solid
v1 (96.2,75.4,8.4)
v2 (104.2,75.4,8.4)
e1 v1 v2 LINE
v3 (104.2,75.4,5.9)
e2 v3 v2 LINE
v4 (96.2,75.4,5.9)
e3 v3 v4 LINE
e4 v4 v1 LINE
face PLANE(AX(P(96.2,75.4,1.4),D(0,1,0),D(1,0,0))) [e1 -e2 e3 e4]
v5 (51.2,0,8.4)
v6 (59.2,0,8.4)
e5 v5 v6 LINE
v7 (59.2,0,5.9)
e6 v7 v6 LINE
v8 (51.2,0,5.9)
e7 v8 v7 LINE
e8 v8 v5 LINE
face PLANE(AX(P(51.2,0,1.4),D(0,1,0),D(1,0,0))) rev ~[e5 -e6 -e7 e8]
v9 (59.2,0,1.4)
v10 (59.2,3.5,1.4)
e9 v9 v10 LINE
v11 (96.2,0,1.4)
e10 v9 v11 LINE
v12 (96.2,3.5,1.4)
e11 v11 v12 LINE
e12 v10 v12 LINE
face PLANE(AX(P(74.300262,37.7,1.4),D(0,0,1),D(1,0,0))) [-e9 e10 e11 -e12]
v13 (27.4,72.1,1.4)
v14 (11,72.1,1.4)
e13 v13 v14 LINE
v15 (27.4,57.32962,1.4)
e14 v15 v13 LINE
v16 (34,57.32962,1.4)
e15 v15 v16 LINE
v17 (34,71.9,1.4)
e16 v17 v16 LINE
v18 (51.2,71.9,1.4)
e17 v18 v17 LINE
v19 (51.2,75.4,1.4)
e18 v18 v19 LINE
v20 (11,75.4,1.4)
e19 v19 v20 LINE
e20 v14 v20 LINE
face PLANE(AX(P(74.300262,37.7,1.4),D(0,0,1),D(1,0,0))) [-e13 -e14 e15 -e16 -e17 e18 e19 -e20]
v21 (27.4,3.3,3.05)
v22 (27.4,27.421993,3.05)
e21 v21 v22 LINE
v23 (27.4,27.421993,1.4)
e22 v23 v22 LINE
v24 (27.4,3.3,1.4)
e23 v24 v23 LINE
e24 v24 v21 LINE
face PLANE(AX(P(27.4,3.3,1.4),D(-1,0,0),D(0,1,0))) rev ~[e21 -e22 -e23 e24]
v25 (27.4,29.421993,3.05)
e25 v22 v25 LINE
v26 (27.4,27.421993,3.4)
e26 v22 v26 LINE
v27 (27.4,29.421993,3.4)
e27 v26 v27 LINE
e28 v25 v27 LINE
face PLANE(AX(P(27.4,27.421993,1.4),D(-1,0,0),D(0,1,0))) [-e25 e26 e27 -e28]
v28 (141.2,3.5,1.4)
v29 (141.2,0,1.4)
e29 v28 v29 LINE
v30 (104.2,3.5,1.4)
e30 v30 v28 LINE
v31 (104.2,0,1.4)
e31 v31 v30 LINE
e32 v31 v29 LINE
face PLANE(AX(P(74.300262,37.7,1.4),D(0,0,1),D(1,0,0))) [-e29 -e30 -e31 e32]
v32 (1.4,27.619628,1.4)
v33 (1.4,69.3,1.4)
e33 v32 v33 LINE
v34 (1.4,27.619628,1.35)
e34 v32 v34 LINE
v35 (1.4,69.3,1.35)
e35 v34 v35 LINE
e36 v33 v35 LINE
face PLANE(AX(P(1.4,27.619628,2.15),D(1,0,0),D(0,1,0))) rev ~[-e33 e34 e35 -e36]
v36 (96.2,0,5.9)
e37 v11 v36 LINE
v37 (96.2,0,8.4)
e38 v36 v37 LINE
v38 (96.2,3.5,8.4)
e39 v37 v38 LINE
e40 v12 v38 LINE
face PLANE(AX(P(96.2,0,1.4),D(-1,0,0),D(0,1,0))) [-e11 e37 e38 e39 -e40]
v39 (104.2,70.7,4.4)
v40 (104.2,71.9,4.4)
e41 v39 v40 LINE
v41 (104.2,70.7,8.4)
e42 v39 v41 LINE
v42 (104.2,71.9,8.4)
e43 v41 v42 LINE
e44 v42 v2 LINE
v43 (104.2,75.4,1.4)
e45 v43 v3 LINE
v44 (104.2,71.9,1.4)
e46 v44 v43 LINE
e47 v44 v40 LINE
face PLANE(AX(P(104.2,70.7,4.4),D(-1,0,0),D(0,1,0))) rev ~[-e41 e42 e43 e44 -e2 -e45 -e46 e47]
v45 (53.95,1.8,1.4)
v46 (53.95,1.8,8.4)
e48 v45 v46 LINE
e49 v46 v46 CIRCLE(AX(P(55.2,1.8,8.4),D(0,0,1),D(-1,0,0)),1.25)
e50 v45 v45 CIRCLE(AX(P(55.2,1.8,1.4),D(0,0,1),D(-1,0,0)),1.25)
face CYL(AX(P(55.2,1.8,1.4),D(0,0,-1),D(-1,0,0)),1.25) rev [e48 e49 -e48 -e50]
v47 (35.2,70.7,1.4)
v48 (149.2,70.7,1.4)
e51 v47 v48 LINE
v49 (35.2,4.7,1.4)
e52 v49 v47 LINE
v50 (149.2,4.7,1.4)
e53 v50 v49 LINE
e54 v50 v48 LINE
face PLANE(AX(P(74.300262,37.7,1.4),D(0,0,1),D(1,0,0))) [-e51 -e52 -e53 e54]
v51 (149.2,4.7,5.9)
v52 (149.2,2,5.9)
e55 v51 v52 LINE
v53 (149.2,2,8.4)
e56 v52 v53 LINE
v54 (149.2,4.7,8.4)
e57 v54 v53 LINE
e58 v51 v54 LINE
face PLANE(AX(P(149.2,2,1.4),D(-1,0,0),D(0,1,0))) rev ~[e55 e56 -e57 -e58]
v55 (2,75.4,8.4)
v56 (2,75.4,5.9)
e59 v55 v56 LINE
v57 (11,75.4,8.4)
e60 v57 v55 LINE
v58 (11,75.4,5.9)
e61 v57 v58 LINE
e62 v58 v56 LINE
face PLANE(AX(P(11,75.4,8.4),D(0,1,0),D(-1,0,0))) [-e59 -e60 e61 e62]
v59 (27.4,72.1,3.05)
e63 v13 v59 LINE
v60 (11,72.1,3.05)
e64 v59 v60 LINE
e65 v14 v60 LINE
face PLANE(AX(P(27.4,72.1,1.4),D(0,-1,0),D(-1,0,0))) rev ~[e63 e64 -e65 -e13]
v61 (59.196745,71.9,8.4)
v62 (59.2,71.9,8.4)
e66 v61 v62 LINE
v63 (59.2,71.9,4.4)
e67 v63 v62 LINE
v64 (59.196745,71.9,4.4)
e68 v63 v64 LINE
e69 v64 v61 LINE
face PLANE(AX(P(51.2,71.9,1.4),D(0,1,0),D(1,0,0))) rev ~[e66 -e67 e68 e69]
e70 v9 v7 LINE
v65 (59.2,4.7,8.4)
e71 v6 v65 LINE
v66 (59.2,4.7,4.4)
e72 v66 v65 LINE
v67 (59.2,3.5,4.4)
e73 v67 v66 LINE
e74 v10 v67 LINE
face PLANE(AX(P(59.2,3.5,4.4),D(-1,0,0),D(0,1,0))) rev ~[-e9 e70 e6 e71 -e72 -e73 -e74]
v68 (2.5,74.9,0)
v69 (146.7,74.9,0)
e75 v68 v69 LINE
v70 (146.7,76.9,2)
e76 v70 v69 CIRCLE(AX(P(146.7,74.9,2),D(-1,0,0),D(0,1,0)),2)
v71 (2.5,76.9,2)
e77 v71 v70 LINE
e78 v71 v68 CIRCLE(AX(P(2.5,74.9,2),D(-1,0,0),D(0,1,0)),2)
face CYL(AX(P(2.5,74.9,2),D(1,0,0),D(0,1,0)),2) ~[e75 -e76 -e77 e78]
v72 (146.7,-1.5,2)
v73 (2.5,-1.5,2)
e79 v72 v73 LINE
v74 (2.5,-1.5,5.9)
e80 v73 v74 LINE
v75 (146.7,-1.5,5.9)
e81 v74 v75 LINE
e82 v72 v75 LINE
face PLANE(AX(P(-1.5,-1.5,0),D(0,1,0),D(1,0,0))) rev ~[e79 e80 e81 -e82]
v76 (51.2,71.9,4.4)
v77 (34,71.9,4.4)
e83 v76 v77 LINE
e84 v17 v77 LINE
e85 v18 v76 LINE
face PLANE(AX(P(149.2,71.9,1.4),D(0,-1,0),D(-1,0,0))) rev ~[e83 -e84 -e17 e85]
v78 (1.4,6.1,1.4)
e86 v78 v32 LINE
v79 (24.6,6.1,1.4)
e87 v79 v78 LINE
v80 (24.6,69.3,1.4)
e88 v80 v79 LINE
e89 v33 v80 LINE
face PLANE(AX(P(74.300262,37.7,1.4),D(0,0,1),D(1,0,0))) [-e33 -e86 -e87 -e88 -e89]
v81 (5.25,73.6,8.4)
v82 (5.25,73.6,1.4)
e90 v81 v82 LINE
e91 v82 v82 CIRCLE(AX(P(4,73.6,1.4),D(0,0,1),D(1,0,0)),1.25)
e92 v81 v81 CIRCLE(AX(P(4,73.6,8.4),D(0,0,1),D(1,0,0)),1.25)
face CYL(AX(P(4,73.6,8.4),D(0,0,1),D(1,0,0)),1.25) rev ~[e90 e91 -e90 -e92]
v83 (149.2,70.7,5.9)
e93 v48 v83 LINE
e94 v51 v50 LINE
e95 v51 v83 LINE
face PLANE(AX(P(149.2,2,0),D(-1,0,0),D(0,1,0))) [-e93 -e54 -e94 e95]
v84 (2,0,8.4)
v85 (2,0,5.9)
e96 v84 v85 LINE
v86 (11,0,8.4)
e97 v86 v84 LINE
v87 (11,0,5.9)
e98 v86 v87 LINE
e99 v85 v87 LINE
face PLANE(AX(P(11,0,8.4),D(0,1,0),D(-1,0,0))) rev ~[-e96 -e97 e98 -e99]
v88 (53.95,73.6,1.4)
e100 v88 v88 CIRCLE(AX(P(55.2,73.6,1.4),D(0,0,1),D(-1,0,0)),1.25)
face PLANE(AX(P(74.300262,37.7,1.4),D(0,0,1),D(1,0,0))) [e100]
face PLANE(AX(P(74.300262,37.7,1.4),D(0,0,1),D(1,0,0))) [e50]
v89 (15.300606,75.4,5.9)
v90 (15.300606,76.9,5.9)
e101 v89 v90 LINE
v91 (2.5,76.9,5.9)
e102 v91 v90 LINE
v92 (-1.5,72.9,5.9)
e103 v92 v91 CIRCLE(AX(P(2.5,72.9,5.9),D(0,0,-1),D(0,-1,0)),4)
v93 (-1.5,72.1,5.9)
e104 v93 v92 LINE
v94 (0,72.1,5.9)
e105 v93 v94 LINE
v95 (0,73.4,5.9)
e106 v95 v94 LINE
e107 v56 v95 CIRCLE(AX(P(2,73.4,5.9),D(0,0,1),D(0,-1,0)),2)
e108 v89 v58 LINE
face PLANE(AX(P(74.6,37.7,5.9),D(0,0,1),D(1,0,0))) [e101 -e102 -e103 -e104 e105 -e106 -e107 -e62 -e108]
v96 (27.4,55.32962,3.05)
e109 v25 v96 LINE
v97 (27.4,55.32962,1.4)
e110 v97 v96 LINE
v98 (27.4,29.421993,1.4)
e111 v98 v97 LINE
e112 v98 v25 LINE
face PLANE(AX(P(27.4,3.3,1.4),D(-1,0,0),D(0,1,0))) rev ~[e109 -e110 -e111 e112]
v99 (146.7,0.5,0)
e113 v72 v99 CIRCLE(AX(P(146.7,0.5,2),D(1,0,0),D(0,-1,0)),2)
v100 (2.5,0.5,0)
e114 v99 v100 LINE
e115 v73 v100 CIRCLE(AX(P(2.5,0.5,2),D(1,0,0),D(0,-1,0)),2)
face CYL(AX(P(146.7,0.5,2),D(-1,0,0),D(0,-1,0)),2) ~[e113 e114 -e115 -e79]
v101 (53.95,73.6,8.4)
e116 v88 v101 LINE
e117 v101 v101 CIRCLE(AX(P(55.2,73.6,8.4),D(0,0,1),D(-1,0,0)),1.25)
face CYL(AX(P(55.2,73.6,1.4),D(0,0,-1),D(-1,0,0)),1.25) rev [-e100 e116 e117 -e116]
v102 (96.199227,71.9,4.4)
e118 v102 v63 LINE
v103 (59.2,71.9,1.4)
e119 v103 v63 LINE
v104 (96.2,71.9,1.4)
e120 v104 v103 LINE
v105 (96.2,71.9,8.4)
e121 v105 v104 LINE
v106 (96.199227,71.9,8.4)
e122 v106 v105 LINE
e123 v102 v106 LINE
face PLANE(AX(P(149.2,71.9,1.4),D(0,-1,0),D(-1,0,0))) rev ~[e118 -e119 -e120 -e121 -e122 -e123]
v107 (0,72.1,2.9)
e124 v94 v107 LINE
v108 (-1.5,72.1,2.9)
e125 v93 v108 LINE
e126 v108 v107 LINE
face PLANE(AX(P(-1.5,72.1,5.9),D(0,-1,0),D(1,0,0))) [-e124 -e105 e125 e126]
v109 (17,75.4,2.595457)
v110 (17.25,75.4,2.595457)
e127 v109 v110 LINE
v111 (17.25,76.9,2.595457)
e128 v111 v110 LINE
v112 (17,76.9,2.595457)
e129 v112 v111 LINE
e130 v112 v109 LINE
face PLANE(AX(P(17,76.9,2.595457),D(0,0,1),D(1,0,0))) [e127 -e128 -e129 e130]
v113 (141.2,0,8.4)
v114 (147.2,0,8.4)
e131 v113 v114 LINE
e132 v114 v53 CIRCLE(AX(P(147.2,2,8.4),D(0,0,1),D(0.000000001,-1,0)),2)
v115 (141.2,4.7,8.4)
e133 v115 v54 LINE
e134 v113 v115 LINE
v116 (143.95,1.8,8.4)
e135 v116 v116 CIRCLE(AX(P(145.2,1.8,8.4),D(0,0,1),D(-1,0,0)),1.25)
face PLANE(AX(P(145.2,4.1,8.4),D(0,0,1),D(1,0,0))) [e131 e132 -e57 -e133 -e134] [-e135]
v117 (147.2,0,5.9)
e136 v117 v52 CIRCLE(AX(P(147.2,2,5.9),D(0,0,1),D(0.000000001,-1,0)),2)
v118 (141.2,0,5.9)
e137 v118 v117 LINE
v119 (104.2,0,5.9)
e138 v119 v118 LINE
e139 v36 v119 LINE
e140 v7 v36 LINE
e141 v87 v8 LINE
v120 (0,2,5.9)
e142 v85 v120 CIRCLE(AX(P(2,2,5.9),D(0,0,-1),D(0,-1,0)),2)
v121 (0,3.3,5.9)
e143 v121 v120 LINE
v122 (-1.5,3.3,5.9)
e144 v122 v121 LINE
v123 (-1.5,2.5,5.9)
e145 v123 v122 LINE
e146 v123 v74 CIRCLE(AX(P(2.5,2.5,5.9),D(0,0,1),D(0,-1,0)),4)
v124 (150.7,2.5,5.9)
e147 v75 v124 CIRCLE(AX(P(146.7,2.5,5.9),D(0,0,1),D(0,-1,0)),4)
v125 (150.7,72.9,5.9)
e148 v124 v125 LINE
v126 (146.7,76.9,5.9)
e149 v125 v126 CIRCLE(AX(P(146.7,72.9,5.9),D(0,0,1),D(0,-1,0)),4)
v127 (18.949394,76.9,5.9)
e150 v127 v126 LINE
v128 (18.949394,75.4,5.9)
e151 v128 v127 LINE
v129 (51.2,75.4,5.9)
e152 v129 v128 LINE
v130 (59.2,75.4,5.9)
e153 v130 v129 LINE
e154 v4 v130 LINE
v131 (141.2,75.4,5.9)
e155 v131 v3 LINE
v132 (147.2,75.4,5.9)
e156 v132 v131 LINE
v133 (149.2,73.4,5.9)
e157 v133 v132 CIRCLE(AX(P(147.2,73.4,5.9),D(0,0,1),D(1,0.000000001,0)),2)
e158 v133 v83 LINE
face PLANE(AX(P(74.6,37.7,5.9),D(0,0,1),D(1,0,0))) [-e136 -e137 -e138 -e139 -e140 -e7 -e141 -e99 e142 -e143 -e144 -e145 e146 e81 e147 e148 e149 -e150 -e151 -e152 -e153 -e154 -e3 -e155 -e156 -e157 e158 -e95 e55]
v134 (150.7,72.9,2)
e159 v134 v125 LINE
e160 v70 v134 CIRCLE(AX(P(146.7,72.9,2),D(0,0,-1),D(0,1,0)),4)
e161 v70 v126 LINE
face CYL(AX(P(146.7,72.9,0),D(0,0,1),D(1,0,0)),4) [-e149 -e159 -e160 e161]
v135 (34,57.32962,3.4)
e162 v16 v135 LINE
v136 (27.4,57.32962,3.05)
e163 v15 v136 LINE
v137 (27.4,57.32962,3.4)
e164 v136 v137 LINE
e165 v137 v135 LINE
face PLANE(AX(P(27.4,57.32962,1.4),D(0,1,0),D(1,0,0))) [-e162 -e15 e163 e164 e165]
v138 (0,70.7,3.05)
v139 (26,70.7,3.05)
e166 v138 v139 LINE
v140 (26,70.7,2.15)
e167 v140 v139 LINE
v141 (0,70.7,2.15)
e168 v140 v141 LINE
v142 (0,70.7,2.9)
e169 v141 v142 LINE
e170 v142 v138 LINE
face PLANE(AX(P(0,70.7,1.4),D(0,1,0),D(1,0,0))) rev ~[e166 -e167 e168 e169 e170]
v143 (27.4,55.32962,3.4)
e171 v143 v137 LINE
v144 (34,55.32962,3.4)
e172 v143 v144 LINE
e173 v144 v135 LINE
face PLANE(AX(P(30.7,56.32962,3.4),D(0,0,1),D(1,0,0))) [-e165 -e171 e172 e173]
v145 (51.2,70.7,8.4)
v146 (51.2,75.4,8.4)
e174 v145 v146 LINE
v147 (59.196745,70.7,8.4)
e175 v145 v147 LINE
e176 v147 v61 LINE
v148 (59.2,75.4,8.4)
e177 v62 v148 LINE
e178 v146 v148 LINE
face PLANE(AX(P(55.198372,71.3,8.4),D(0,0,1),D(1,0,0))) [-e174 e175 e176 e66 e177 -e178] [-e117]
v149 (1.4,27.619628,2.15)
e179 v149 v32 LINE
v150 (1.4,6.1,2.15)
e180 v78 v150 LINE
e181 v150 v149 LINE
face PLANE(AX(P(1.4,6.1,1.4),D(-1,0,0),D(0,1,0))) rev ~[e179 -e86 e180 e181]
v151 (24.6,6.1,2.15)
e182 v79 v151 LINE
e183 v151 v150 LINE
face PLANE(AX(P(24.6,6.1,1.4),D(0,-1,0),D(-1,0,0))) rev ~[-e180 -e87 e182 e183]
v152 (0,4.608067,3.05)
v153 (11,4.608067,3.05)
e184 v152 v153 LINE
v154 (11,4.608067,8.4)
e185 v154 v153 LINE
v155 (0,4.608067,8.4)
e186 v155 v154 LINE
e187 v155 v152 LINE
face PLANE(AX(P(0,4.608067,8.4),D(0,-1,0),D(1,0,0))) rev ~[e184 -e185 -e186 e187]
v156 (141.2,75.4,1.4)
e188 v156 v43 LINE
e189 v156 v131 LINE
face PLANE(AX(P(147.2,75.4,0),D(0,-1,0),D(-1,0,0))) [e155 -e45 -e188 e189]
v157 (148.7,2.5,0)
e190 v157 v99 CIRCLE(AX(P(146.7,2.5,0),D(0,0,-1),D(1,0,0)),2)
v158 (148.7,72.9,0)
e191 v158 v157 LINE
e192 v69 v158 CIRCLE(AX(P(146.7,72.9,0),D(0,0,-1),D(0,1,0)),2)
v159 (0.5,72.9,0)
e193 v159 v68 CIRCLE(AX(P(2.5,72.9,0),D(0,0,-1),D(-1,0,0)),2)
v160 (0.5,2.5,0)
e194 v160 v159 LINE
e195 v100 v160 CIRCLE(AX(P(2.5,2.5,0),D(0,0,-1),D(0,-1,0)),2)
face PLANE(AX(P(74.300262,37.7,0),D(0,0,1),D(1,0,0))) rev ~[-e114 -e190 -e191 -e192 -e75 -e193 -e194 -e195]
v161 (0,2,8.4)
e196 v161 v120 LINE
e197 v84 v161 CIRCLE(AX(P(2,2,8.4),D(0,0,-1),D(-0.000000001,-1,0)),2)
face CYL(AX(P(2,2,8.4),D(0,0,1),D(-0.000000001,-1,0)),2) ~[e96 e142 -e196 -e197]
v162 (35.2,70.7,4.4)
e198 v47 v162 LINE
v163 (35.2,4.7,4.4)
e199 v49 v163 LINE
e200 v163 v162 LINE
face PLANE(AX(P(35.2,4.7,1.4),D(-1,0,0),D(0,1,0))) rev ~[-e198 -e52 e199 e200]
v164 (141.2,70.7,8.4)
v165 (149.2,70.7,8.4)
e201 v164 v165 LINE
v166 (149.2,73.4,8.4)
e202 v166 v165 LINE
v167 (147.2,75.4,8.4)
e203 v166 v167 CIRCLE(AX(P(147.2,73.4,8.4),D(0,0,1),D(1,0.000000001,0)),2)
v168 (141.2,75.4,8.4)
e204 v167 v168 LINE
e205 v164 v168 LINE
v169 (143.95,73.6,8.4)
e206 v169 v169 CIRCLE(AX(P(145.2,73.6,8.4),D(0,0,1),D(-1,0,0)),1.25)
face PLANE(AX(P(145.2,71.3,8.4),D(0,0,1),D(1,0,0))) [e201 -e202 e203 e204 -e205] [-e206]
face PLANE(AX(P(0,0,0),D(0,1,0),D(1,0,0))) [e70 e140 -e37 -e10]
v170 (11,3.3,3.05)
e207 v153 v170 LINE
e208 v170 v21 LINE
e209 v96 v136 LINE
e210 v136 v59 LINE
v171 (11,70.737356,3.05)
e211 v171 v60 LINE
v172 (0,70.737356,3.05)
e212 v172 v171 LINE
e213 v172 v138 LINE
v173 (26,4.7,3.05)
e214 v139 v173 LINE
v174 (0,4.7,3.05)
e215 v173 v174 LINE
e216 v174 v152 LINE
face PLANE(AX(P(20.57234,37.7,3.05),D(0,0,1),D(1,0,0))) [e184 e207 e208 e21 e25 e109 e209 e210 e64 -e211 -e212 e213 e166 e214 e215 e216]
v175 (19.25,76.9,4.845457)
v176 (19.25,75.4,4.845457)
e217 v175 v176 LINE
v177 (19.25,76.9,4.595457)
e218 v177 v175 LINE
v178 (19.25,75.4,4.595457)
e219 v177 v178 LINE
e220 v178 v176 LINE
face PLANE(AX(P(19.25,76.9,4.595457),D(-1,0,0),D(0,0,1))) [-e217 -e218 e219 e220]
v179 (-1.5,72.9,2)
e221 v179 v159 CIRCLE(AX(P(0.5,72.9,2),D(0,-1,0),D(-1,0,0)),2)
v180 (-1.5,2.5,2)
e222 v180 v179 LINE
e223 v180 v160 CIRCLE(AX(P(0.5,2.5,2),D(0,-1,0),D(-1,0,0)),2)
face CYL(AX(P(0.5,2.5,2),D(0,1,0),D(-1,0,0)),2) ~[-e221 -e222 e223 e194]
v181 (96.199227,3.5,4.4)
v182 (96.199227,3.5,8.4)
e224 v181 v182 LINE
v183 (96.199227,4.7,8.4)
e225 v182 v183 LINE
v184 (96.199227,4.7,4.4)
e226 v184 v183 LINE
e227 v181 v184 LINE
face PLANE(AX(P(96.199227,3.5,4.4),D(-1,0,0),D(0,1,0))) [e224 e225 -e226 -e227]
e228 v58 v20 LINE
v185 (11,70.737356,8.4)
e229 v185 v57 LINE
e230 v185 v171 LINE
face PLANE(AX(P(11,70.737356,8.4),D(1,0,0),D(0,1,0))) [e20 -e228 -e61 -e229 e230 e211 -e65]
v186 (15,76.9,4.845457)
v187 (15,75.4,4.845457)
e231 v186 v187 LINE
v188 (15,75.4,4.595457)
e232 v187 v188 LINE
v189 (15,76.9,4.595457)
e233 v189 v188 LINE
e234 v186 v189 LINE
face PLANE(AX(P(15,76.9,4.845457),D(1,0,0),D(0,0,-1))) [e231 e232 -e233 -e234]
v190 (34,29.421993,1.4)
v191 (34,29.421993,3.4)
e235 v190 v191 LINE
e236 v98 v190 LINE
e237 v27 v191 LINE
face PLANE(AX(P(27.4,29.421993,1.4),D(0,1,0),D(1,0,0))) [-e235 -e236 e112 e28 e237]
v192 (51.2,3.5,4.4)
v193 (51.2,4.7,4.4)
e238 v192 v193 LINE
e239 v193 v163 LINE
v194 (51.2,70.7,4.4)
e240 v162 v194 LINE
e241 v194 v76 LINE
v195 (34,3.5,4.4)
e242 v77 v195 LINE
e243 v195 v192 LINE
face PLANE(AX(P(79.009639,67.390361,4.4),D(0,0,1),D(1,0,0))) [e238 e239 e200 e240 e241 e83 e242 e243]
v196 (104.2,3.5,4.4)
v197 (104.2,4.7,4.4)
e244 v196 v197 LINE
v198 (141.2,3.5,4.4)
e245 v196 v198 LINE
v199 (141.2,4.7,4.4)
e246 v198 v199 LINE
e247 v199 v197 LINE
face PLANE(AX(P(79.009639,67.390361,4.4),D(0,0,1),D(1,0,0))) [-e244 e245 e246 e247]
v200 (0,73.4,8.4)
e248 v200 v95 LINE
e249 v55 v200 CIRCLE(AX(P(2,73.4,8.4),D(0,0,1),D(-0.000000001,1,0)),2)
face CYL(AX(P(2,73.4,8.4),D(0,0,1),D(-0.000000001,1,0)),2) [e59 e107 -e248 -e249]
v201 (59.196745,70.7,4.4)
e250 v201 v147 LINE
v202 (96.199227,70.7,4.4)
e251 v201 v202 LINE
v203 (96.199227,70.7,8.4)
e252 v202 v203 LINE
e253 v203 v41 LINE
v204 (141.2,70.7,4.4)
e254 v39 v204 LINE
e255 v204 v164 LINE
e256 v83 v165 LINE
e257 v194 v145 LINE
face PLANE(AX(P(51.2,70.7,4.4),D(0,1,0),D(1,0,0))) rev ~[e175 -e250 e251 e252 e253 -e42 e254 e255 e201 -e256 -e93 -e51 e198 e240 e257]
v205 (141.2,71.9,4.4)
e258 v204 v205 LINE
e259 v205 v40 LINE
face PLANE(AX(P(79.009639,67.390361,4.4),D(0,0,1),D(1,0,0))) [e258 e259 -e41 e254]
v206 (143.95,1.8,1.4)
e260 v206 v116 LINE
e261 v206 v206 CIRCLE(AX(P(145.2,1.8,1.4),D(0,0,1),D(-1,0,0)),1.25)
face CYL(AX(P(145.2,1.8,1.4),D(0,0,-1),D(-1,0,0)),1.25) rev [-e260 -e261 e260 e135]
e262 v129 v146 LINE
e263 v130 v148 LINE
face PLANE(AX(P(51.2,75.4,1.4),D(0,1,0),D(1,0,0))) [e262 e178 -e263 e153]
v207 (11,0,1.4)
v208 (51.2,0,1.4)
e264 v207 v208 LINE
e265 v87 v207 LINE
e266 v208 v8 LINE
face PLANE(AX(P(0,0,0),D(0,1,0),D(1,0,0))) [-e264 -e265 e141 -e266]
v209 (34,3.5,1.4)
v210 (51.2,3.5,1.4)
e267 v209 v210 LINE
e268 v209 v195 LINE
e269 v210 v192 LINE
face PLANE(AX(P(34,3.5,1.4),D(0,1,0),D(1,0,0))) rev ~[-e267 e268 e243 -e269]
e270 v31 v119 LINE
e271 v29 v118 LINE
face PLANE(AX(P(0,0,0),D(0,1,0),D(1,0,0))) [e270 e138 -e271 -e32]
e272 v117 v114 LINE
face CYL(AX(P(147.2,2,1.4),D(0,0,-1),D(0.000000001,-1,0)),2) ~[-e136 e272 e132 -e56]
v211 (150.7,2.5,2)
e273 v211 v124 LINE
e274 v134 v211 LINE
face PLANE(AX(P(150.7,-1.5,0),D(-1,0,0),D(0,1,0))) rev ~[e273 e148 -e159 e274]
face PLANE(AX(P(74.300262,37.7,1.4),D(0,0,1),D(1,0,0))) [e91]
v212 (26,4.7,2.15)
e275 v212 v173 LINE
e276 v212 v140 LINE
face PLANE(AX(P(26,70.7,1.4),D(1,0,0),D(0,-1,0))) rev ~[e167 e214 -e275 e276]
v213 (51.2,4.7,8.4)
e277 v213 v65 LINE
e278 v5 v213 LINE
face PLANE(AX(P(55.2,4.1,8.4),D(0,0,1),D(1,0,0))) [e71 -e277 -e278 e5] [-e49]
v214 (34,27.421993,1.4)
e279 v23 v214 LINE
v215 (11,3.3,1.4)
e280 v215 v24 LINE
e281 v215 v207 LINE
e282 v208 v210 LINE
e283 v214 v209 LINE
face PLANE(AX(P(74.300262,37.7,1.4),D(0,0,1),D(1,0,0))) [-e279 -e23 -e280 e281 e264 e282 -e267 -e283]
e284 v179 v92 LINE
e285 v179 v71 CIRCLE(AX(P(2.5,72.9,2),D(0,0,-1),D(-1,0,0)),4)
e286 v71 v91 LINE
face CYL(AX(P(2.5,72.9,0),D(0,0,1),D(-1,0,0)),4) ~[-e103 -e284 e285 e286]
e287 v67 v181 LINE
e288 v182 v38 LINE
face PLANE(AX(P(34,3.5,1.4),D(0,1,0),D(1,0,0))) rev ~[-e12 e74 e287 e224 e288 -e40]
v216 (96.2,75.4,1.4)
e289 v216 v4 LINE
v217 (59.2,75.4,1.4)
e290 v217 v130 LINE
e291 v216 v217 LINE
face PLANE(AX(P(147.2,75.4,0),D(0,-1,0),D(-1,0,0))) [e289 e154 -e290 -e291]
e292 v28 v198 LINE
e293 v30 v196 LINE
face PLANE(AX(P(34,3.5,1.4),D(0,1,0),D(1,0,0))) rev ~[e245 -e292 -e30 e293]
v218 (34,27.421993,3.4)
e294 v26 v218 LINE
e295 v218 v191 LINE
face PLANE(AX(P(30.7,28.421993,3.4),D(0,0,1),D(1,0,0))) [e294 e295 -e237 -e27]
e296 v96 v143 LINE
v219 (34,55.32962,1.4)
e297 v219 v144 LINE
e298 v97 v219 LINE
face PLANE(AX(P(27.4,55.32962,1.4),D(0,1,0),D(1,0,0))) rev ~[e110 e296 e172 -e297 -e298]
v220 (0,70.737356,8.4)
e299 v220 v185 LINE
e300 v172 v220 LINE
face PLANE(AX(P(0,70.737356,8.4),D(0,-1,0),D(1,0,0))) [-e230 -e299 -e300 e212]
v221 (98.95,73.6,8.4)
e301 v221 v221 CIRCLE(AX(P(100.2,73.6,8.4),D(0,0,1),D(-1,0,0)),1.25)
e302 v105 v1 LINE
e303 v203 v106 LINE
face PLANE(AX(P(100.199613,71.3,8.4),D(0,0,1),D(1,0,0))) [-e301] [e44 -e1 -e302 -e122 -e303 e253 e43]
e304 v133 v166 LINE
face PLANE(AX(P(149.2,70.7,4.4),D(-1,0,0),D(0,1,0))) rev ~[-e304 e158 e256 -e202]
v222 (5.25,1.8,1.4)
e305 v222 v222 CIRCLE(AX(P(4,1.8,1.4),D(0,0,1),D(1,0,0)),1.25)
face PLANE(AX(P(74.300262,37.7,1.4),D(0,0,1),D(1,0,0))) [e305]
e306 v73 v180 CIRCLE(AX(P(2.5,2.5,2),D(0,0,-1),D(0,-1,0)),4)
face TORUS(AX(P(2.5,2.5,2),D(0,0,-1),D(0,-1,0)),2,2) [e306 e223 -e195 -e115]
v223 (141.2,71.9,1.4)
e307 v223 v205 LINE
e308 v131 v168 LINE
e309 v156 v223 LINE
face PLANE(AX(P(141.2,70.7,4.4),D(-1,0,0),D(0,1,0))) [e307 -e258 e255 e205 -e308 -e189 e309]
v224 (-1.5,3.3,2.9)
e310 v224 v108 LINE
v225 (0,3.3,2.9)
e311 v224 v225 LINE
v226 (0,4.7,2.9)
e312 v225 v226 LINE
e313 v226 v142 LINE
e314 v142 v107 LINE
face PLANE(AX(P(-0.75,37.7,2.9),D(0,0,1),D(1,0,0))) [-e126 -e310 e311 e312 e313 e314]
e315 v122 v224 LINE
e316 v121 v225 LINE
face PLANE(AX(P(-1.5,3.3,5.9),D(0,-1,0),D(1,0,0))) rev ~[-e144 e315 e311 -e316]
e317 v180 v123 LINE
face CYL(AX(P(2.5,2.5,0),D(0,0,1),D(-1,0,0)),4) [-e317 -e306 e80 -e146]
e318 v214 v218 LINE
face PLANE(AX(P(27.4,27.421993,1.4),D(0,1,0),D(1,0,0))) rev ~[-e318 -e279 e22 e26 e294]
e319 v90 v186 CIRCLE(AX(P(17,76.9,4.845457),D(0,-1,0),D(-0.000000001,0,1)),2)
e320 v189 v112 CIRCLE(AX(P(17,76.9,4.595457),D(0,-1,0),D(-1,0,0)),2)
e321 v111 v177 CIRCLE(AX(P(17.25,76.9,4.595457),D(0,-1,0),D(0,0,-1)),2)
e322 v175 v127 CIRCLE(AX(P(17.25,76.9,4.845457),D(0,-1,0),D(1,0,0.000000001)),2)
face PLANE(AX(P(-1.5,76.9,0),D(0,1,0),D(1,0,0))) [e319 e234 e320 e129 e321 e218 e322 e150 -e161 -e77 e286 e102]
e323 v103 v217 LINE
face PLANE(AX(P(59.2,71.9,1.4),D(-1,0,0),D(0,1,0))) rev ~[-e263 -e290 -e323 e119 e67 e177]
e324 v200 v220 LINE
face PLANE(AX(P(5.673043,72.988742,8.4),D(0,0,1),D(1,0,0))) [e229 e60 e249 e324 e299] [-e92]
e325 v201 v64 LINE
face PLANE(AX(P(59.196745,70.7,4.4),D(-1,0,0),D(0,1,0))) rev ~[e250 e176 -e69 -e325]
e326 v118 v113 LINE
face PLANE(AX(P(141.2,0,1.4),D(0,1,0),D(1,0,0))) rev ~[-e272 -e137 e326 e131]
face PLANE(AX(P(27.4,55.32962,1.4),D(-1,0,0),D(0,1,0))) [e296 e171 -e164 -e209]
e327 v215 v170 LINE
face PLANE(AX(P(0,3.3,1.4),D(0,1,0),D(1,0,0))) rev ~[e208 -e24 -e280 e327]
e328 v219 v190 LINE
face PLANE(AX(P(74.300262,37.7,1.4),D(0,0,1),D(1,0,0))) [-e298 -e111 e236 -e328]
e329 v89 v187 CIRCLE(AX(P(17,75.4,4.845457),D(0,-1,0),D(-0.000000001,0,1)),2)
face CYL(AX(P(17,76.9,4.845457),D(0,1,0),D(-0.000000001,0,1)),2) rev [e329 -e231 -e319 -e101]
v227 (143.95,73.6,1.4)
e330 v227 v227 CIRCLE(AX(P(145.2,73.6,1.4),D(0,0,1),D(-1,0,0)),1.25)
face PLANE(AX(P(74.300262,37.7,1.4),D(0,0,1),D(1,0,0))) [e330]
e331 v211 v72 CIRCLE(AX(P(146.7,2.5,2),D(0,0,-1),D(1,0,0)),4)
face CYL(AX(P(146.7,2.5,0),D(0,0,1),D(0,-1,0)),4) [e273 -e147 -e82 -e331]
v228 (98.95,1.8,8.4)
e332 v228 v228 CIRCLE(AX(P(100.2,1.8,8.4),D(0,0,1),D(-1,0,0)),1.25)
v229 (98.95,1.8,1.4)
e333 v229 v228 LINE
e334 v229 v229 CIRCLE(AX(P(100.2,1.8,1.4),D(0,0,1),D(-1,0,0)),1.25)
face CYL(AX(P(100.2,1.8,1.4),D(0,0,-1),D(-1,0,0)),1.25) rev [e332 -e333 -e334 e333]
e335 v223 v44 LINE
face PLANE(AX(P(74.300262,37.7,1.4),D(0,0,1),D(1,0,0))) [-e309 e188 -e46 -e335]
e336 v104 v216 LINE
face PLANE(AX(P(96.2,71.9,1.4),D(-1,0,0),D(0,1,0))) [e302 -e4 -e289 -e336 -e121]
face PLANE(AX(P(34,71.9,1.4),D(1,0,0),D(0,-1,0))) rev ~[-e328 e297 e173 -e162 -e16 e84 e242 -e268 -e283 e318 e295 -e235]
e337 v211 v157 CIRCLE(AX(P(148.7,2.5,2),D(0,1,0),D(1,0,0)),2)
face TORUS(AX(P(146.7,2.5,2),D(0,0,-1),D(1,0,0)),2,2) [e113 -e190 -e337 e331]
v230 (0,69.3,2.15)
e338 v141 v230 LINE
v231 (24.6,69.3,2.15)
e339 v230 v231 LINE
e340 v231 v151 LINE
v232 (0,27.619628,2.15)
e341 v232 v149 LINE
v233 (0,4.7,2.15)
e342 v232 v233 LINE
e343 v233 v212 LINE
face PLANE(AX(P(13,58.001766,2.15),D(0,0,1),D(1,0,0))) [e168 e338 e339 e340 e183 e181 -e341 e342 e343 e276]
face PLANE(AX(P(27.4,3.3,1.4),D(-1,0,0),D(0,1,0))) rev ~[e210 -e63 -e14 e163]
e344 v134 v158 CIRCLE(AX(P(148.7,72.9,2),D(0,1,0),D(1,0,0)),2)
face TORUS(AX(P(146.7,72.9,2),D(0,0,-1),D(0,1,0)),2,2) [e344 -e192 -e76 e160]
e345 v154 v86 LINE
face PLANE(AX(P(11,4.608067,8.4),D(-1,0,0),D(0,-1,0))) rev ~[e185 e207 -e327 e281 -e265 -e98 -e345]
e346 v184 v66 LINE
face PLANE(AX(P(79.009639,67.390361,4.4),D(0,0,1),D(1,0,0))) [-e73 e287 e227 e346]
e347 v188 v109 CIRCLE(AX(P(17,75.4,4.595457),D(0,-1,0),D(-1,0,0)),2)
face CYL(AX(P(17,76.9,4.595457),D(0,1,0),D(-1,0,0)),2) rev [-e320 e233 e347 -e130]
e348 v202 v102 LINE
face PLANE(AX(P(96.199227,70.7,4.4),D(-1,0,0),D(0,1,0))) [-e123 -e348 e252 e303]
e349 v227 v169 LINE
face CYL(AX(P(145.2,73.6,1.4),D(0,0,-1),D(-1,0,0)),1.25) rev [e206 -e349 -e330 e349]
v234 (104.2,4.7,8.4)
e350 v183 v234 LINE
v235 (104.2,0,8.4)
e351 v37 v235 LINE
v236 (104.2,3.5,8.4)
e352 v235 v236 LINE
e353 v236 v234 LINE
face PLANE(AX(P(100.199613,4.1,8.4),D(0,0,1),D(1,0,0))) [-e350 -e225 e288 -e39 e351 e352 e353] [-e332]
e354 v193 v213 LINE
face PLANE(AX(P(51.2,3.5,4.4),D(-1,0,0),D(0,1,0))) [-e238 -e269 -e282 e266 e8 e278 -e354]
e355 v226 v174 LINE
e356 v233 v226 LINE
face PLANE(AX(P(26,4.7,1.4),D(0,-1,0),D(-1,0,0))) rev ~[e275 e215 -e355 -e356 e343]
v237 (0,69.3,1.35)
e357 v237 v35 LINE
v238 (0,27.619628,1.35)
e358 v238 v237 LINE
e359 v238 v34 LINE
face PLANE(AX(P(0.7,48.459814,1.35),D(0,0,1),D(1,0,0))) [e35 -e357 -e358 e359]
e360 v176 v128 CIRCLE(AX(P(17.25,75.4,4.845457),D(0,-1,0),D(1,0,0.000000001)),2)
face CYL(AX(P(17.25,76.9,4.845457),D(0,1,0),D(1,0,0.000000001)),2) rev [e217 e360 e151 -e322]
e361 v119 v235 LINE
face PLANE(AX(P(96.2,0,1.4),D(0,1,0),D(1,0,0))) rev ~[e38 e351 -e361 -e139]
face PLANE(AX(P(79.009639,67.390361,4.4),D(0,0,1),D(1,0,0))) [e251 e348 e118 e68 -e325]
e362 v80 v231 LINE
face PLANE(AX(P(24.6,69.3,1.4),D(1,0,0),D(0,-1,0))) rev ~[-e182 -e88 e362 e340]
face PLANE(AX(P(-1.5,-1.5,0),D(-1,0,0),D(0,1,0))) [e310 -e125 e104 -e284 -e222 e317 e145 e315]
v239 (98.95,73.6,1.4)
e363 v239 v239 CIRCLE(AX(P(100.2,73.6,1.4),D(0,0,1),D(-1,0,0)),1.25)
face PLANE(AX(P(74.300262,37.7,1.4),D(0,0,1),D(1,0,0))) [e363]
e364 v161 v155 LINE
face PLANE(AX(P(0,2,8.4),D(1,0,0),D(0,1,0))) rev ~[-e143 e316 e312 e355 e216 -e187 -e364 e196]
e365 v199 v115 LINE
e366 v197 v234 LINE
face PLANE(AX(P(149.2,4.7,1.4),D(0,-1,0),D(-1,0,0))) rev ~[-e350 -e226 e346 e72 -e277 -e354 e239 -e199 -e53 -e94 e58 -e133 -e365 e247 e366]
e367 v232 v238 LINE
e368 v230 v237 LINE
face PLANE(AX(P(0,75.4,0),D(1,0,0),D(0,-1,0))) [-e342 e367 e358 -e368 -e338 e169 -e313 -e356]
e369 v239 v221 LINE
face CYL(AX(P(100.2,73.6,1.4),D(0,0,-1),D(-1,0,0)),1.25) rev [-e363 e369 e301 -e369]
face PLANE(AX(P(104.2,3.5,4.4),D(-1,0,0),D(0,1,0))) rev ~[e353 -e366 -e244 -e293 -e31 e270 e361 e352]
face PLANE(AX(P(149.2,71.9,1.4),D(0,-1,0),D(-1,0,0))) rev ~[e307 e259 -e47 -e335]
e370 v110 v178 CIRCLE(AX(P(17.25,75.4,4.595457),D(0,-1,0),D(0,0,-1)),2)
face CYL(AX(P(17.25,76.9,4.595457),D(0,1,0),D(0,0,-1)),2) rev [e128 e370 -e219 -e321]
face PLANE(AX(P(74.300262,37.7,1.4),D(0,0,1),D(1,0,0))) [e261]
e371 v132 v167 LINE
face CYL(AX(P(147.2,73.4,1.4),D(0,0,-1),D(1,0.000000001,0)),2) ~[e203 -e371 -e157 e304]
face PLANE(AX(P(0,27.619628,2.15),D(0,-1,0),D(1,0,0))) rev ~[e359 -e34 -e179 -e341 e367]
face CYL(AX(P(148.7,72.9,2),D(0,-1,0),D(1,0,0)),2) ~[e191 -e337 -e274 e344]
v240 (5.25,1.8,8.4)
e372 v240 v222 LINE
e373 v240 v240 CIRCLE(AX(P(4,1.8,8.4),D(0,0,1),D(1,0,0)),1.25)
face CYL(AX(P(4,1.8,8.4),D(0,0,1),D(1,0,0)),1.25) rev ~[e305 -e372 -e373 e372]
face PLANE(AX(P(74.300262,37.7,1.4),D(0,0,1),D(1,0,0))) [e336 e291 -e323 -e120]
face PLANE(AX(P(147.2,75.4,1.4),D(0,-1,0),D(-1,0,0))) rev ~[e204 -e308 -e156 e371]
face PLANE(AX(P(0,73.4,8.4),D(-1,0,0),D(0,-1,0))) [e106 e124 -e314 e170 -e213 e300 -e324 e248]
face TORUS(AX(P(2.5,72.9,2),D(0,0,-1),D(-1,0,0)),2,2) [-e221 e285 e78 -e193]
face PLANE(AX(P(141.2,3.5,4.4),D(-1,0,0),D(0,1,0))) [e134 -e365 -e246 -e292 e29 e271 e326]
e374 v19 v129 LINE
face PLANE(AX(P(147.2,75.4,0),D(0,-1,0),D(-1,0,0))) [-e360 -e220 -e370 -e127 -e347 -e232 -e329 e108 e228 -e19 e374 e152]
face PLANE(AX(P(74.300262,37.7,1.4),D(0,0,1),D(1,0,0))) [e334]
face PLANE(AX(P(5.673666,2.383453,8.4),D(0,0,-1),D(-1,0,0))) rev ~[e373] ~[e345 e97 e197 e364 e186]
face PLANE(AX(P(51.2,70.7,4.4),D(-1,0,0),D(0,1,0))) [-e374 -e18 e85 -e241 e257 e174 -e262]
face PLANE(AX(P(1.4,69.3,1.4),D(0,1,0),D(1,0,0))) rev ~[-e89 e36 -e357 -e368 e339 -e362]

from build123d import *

# Parameters (mm, degrees)
ESQUISSE1_W             = 152.2
ESQUISSE1_H             = 78.4
BOSS_EXTRU_1_DEPTH      = 5.9
BOSS_EXTRU_2_DEPTH      = 1.4
BOSS_EXTRU_5_START      = 1.4
ESQUISSE1_5_R           = 1.25
BOSS_EXTRU_5_DEPTH      = 7
ESQUISSE1_5_W           = 8
ESQUISSE1_5_H           = 3.5
BOSS_EXTRU_5_2_DEPTH    = 7
BOSS_EXTRU_5_3_DEPTH    = 7
BOSS_EXTRU_5_4_DEPTH    = 7
BOSS_EXTRU_5_5_DEPTH    = 7
BOSS_EXTRU_5_6_DEPTH    = 7
BOSS_EXTRU_7_START      = 1.4
BOSS_EXTRU_7_DEPTH      = 3
CONG_1_R                = 4
CONG_4_R                = 2
BOSS_EXTRU_8_START      = 1.4
BOSS_EXTRU_8_DEPTH      = 0.75
BOSS_EXTRU_9_START      = 1.4
BOSS_EXTRU_9_DEPTH      = 1.65
BOSS_EXTRU_11_START     = 7
ESQUISSE4_R             = 1.25
BOSS_EXTRU_11_DEPTH     = 7
ESQUISSE5_W             = 6.6
ESQUISSE5_H             = 2
BOSS_EXTRU_12_DEPTH     = 2
CONG_3_R                = 2
ESQUISSE2_W             = 1.5
ESQUISSE2_H             = 68.8
ENL_V_MAT_EXTRU_1_DEPTH = 3
ENL_V_MAT_EXTRU_2_DEPTH = 1.5
ESQUISSE7_W             = 1.4
ESQUISSE7_H             = 41.680372202
ENL_V_MAT_EXTRU_3_DEPTH = 0.8
ESQUISSE8_W             = 7.99674486
ESQUISSE8_H             = 1.2
ESQUISSE8_W_2           = 8.000773141
ESQUISSE8_W_3           = 8
BOSS_EXTRU_13_DEPTH     = 4


with BuildPart() as part:
    # Esquisse1 → Boss.-Extru.1 (new body)
    with BuildSketch(Plane.XY):
        with Locations((74.6, 37.7)):
            Rectangle(ESQUISSE1_W, ESQUISSE1_H)
        with BuildLine():
            Line((0, 0), (147.2, 0))
            ThreePointArc((147.2, 0), (148.614213562, 0.585786438), (149.2, 2))
            Line((149.2, 2), (149.2, 73.4))
            ThreePointArc((149.2, 73.4), (148.614213562, 74.814213562), (147.2, 75.4))
            Line((147.2, 75.4), (0, 75.4))
            Line((0, 75.4), (0, 0))
        make_face(mode=Mode.SUBTRACT)
    extrude(amount=BOSS_EXTRU_1_DEPTH)

    # Esquisse1<4> → Boss.-Extru.2 (add)
    with BuildSketch(Plane.XY):
        with BuildLine():
            Line((0, 0), (147.2, 0))
            ThreePointArc((147.2, 0), (148.614213562, 0.585786438), (149.2, 2))
            Line((149.2, 2), (149.2, 73.4))
            ThreePointArc((149.2, 73.4), (148.614213562, 74.814213562), (147.2, 75.4))
            Line((147.2, 75.4), (0, 75.4))
            Line((0, 75.4), (0, 0))
        make_face()
    extrude(amount=BOSS_EXTRU_2_DEPTH)

    # Esquisse1<6> → Boss.-Extru.7 (add)
    with BuildSketch(Plane.XY.offset(BOSS_EXTRU_7_START)):
        Polygon((149.2, 70.7), (149.2, 71.9), (141.2, 71.9), (104.2, 71.9), (96.2, 71.9), (59.2, 71.9), (51.2, 71.9), (34, 71.9), (34, 37.7), (35.2, 37.7), (35.2, 70.7), align=None)
        Polygon((149.2, 3.5), (149.2, 4.7), (35.2, 4.7), (35.2, 37.7), (34, 37.7), (34, 3.5), (51.2, 3.5), (59.2, 3.5), (96.2, 3.5), (104.2, 3.5), (141.2, 3.5), align=None)
    extrude(amount=BOSS_EXTRU_7_DEPTH)

    # Congé1
    cong_1_edges = [part.edges().sort_by_distance(p)[0] for p in [
        (-1.5, 76.9, 2.95),
        (150.7, 76.9, 2.95),
        (150.7, -1.5, 2.95),
        (-1.5, -1.5, 2.95),
    ]]
    fillet(cong_1_edges, radius=CONG_1_R)

    # Congé4
    cong_4_edges = [part.edges().sort_by_distance(p)[0] for p in [
        (0, 75.4, 3.65),
        (0, 0, 3.65),
    ]]
    fillet(cong_4_edges, radius=CONG_4_R)

    # Esquisse1<7> → Boss.-Extru.8 (add)
    with BuildSketch(Plane.XY.offset(BOSS_EXTRU_8_START)):
        Polygon((24.6, 37.7), (26, 37.7), (26, 70.7), (0, 70.7), (0, 37.7), (1.4, 37.7), (1.4, 69.3), (24.6, 69.3), align=None)
        Polygon((26, 4.7), (26, 37.7), (24.6, 37.7), (24.6, 6.1), (1.4, 6.1), (1.4, 37.7), (0, 37.7), (0, 4.7), align=None)
    extrude(amount=BOSS_EXTRU_8_DEPTH)

    # Esquisse1<8> → Boss.-Extru.9 (add)
    with BuildSketch(Plane.XY.offset(BOSS_EXTRU_9_START)):
        Polygon((27.4, 3.3), (27.4, 72.1), (0, 72.1), (0, 70.7), (26, 70.7), (26, 4.7), (0, 4.7), (0, 3.3), align=None)
    extrude(amount=BOSS_EXTRU_9_DEPTH)

    # Esquisse4 → Boss.-Extru.11 (add)
    # profile 1 of 2: a face of its own
    with BuildSketch(Plane.XY.offset(1.4).offset(BOSS_EXTRU_11_START)):
        with BuildLine():
            Line((11, 75.4), (2, 75.4))
            ThreePointArc((2, 75.4), (0.585786438, 74.814213562), (0, 73.4))
            Line((0, 73.4), (0, 70.737356087))
            Line((0, 70.737356087), (11, 70.737356087))
            Line((11, 70.737356087), (11, 75.4))
        make_face()
        with Locations((4, 73.6)):
            Circle(ESQUISSE4_R, mode=Mode.SUBTRACT)
    # profile 2 of 2: a face of its own
    with BuildSketch(Plane.XY.offset(1.4).offset(BOSS_EXTRU_11_START)):
        with BuildLine():
            Line((0, 4.608067271), (11, 4.608067271))
            Line((11, 4.608067271), (11, 0))
            Line((11, 0), (2, 0))
            ThreePointArc((2, 0), (0.585786438, 0.585786438), (0, 2))
            Line((0, 2), (0, 4.608067271))
        make_face()
        with Locations((4, 1.8)):
            Circle(ESQUISSE4_R, mode=Mode.SUBTRACT)
    extrude(amount=-BOSS_EXTRU_11_DEPTH)

    # Esquisse5 → Boss.-Extru.12 (add)
    with BuildSketch(Plane.XY.offset(1.4)):
        with Locations((30.7, 56.329620473)):
            Rectangle(ESQUISSE5_W, ESQUISSE5_H)
        with Locations((30.7, 28.421993419)):
            Rectangle(ESQUISSE5_W, ESQUISSE5_H)
    extrude(amount=BOSS_EXTRU_12_DEPTH)

    # Congé3
    cong_3_edges = [part.edges().sort_by_distance(p)[0] for p in [
        (-1.5, 37.7, 0),
        (74.6, 76.9, 0),
        (150.7, 37.7, 0),
        (74.6, -1.5, 0),
        (149.528427125, 75.728427125, 0),
        (149.528427125, -0.328427125, 0),
        (-0.328427125, -0.328427125, 0),
        (-0.328427125, 75.728427125, 0),
    ]]
    fillet(cong_3_edges, radius=CONG_3_R)

    # Esquisse2 → Enlèv. mat.-Extru.1 (cut)
    with BuildSketch(Plane.XY.offset(5.9)):
        with Locations((-0.75, 37.7)):
            Rectangle(ESQUISSE2_W, ESQUISSE2_H)
    extrude(amount=-ENL_V_MAT_EXTRU_1_DEPTH, mode=Mode.SUBTRACT)

    # Esquisse6 → Enlèv. mat.-Extru.2 (cut)
    with BuildSketch(Plane(origin=(0, 76.9, 0), x_dir=(1, 0, 0), z_dir=(0, 1, 0))):
        with BuildLine():
            Line((17, -2.595457244), (17.25, -2.595457244))
            ThreePointArc((17.25, -2.595457244), (18.664213562, -3.181243681), (19.25, -4.595457244))
            Line((19.25, -4.595457244), (19.25, -4.845457244))
            ThreePointArc((19.25, -4.845457244), (18.664213562, -6.259670806), (17.25, -6.845457244))
            Line((17.25, -6.845457244), (17, -6.845457244))
            ThreePointArc((17, -6.845457244), (15.585786438, -6.259670806), (15, -4.845457244))
            Line((15, -4.845457244), (15, -4.595457244))
            ThreePointArc((15, -4.595457244), (15.585786438, -3.181243681), (17, -2.595457244))
        make_face()
    extrude(amount=-ENL_V_MAT_EXTRU_2_DEPTH, mode=Mode.SUBTRACT)

    # Esquisse7 → Enlèv. mat.-Extru.3 (cut)
    with BuildSketch(Plane.XY.offset(2.15)):
        with Locations((0.7, 48.459813899)):
            Rectangle(ESQUISSE7_W, ESQUISSE7_H)
    extrude(amount=-ENL_V_MAT_EXTRU_3_DEPTH, mode=Mode.SUBTRACT)



with BuildPart() as body_2:
    # Esquisse1<5> → Boss.-Extru.5 (new body)
    with BuildSketch(Plane.XY.offset(BOSS_EXTRU_5_START)):
        with BuildLine():
            Line((141.2, 71.9), (149.2, 71.9))
            Line((149.2, 71.9), (149.2, 73.4))
            ThreePointArc((149.2, 73.4), (148.614213562, 74.814213562), (147.2, 75.4))
            Line((147.2, 75.4), (141.2, 75.4))
            Line((141.2, 75.4), (141.2, 71.9))
        make_face()
        with Locations(Location((145.2, 73.6, 0), (0, 0, 180))):
            Circle(ESQUISSE1_5_R, mode=Mode.SUBTRACT)
    extrude(amount=BOSS_EXTRU_5_DEPTH)


with BuildPart() as body_3:
    # Esquisse1<5> → Boss.-Extru.5 2 (new body)
    with BuildSketch(Plane.XY.offset(BOSS_EXTRU_5_START)):
        with Locations((100.2, 73.65)):
            Rectangle(ESQUISSE1_5_W, ESQUISSE1_5_H)
        with Locations(Location((100.2, 73.6, 0), (0, 0, 180))):
            Circle(ESQUISSE1_5_R, mode=Mode.SUBTRACT)
    extrude(amount=BOSS_EXTRU_5_2_DEPTH)


with BuildPart() as body_4:
    # Esquisse1<5> → Boss.-Extru.5 3 (new body)
    with BuildSketch(Plane.XY.offset(BOSS_EXTRU_5_START)):
        with BuildLine():
            Line((149.2, 2), (149.2, 3.5))
            Line((149.2, 3.5), (141.2, 3.5))
            Line((141.2, 3.5), (141.2, 0))
            Line((141.2, 0), (147.2, 0))
            ThreePointArc((147.2, 0), (148.614213562, 0.585786438), (149.2, 2))
        make_face()
        with Locations(Location((145.2, 1.8, 0), (0, 0, 180))):
            Circle(ESQUISSE1_5_R, mode=Mode.SUBTRACT)
    extrude(amount=BOSS_EXTRU_5_3_DEPTH)


with BuildPart() as body_5:
    # Esquisse1<5> → Boss.-Extru.5 4 (new body)
    with BuildSketch(Plane.XY.offset(BOSS_EXTRU_5_START)):
        with Locations((55.2, 73.65)):
            Rectangle(ESQUISSE1_5_W, ESQUISSE1_5_H)
        with Locations(Location((55.2, 73.6, 0), (0, 0, 180))):
            Circle(ESQUISSE1_5_R, mode=Mode.SUBTRACT)
    extrude(amount=BOSS_EXTRU_5_4_DEPTH)


with BuildPart() as body_6:
    # Esquisse1<5> → Boss.-Extru.5 5 (new body)
    with BuildSketch(Plane.XY.offset(BOSS_EXTRU_5_START)):
        with Locations((100.2, 1.75)):
            Rectangle(ESQUISSE1_5_W, ESQUISSE1_5_H)
        with Locations(Location((100.2, 1.8, 0), (0, 0, 180))):
            Circle(ESQUISSE1_5_R, mode=Mode.SUBTRACT)
    extrude(amount=BOSS_EXTRU_5_5_DEPTH)


with BuildPart() as body_7:
    # Esquisse1<5> → Boss.-Extru.5 6 (new body)
    with BuildSketch(Plane.XY.offset(BOSS_EXTRU_5_START)):
        with Locations((55.2, 1.75)):
            Rectangle(ESQUISSE1_5_W, ESQUISSE1_5_H)
        with Locations(Location((55.2, 1.8, 0), (0, 0, 180))):
            Circle(ESQUISSE1_5_R, mode=Mode.SUBTRACT)
    extrude(amount=BOSS_EXTRU_5_6_DEPTH)


with BuildPart() as part_1:
    add(part.part)

    add(body_2.part)  # Boss.-Extru.13 merges body 2

    add(body_3.part)  # Boss.-Extru.13 merges body 3

    add(body_4.part)  # Boss.-Extru.13 merges body 4

    add(body_5.part)  # Boss.-Extru.13 merges body 5

    add(body_6.part)  # Boss.-Extru.13 merges body 6

    add(body_7.part)  # Boss.-Extru.13 merges body 7
    # Esquisse8 → Boss.-Extru.13 (add)
    with BuildSketch(Plane.XY.offset(4.4)):
        with Locations((55.19837243, 71.3)):
            Rectangle(ESQUISSE8_W, ESQUISSE8_H)
        with Locations((100.19961343, 71.3)):
            Rectangle(ESQUISSE8_W_2, ESQUISSE8_H)
        with Locations((145.2, 71.3)):
            Rectangle(ESQUISSE8_W_3, ESQUISSE8_H)
        with Locations((145.2, 4.1)):
            Rectangle(ESQUISSE8_W_3, ESQUISSE8_H)
        with Locations((100.19961343, 4.1)):
            Rectangle(ESQUISSE8_W_2, ESQUISSE8_H)
        with Locations((55.2, 4.1)):
            Rectangle(ESQUISSE8_W_3, ESQUISSE8_H)
    extrude(amount=BOSS_EXTRU_13_DEPTH)


solid = part_1.part
